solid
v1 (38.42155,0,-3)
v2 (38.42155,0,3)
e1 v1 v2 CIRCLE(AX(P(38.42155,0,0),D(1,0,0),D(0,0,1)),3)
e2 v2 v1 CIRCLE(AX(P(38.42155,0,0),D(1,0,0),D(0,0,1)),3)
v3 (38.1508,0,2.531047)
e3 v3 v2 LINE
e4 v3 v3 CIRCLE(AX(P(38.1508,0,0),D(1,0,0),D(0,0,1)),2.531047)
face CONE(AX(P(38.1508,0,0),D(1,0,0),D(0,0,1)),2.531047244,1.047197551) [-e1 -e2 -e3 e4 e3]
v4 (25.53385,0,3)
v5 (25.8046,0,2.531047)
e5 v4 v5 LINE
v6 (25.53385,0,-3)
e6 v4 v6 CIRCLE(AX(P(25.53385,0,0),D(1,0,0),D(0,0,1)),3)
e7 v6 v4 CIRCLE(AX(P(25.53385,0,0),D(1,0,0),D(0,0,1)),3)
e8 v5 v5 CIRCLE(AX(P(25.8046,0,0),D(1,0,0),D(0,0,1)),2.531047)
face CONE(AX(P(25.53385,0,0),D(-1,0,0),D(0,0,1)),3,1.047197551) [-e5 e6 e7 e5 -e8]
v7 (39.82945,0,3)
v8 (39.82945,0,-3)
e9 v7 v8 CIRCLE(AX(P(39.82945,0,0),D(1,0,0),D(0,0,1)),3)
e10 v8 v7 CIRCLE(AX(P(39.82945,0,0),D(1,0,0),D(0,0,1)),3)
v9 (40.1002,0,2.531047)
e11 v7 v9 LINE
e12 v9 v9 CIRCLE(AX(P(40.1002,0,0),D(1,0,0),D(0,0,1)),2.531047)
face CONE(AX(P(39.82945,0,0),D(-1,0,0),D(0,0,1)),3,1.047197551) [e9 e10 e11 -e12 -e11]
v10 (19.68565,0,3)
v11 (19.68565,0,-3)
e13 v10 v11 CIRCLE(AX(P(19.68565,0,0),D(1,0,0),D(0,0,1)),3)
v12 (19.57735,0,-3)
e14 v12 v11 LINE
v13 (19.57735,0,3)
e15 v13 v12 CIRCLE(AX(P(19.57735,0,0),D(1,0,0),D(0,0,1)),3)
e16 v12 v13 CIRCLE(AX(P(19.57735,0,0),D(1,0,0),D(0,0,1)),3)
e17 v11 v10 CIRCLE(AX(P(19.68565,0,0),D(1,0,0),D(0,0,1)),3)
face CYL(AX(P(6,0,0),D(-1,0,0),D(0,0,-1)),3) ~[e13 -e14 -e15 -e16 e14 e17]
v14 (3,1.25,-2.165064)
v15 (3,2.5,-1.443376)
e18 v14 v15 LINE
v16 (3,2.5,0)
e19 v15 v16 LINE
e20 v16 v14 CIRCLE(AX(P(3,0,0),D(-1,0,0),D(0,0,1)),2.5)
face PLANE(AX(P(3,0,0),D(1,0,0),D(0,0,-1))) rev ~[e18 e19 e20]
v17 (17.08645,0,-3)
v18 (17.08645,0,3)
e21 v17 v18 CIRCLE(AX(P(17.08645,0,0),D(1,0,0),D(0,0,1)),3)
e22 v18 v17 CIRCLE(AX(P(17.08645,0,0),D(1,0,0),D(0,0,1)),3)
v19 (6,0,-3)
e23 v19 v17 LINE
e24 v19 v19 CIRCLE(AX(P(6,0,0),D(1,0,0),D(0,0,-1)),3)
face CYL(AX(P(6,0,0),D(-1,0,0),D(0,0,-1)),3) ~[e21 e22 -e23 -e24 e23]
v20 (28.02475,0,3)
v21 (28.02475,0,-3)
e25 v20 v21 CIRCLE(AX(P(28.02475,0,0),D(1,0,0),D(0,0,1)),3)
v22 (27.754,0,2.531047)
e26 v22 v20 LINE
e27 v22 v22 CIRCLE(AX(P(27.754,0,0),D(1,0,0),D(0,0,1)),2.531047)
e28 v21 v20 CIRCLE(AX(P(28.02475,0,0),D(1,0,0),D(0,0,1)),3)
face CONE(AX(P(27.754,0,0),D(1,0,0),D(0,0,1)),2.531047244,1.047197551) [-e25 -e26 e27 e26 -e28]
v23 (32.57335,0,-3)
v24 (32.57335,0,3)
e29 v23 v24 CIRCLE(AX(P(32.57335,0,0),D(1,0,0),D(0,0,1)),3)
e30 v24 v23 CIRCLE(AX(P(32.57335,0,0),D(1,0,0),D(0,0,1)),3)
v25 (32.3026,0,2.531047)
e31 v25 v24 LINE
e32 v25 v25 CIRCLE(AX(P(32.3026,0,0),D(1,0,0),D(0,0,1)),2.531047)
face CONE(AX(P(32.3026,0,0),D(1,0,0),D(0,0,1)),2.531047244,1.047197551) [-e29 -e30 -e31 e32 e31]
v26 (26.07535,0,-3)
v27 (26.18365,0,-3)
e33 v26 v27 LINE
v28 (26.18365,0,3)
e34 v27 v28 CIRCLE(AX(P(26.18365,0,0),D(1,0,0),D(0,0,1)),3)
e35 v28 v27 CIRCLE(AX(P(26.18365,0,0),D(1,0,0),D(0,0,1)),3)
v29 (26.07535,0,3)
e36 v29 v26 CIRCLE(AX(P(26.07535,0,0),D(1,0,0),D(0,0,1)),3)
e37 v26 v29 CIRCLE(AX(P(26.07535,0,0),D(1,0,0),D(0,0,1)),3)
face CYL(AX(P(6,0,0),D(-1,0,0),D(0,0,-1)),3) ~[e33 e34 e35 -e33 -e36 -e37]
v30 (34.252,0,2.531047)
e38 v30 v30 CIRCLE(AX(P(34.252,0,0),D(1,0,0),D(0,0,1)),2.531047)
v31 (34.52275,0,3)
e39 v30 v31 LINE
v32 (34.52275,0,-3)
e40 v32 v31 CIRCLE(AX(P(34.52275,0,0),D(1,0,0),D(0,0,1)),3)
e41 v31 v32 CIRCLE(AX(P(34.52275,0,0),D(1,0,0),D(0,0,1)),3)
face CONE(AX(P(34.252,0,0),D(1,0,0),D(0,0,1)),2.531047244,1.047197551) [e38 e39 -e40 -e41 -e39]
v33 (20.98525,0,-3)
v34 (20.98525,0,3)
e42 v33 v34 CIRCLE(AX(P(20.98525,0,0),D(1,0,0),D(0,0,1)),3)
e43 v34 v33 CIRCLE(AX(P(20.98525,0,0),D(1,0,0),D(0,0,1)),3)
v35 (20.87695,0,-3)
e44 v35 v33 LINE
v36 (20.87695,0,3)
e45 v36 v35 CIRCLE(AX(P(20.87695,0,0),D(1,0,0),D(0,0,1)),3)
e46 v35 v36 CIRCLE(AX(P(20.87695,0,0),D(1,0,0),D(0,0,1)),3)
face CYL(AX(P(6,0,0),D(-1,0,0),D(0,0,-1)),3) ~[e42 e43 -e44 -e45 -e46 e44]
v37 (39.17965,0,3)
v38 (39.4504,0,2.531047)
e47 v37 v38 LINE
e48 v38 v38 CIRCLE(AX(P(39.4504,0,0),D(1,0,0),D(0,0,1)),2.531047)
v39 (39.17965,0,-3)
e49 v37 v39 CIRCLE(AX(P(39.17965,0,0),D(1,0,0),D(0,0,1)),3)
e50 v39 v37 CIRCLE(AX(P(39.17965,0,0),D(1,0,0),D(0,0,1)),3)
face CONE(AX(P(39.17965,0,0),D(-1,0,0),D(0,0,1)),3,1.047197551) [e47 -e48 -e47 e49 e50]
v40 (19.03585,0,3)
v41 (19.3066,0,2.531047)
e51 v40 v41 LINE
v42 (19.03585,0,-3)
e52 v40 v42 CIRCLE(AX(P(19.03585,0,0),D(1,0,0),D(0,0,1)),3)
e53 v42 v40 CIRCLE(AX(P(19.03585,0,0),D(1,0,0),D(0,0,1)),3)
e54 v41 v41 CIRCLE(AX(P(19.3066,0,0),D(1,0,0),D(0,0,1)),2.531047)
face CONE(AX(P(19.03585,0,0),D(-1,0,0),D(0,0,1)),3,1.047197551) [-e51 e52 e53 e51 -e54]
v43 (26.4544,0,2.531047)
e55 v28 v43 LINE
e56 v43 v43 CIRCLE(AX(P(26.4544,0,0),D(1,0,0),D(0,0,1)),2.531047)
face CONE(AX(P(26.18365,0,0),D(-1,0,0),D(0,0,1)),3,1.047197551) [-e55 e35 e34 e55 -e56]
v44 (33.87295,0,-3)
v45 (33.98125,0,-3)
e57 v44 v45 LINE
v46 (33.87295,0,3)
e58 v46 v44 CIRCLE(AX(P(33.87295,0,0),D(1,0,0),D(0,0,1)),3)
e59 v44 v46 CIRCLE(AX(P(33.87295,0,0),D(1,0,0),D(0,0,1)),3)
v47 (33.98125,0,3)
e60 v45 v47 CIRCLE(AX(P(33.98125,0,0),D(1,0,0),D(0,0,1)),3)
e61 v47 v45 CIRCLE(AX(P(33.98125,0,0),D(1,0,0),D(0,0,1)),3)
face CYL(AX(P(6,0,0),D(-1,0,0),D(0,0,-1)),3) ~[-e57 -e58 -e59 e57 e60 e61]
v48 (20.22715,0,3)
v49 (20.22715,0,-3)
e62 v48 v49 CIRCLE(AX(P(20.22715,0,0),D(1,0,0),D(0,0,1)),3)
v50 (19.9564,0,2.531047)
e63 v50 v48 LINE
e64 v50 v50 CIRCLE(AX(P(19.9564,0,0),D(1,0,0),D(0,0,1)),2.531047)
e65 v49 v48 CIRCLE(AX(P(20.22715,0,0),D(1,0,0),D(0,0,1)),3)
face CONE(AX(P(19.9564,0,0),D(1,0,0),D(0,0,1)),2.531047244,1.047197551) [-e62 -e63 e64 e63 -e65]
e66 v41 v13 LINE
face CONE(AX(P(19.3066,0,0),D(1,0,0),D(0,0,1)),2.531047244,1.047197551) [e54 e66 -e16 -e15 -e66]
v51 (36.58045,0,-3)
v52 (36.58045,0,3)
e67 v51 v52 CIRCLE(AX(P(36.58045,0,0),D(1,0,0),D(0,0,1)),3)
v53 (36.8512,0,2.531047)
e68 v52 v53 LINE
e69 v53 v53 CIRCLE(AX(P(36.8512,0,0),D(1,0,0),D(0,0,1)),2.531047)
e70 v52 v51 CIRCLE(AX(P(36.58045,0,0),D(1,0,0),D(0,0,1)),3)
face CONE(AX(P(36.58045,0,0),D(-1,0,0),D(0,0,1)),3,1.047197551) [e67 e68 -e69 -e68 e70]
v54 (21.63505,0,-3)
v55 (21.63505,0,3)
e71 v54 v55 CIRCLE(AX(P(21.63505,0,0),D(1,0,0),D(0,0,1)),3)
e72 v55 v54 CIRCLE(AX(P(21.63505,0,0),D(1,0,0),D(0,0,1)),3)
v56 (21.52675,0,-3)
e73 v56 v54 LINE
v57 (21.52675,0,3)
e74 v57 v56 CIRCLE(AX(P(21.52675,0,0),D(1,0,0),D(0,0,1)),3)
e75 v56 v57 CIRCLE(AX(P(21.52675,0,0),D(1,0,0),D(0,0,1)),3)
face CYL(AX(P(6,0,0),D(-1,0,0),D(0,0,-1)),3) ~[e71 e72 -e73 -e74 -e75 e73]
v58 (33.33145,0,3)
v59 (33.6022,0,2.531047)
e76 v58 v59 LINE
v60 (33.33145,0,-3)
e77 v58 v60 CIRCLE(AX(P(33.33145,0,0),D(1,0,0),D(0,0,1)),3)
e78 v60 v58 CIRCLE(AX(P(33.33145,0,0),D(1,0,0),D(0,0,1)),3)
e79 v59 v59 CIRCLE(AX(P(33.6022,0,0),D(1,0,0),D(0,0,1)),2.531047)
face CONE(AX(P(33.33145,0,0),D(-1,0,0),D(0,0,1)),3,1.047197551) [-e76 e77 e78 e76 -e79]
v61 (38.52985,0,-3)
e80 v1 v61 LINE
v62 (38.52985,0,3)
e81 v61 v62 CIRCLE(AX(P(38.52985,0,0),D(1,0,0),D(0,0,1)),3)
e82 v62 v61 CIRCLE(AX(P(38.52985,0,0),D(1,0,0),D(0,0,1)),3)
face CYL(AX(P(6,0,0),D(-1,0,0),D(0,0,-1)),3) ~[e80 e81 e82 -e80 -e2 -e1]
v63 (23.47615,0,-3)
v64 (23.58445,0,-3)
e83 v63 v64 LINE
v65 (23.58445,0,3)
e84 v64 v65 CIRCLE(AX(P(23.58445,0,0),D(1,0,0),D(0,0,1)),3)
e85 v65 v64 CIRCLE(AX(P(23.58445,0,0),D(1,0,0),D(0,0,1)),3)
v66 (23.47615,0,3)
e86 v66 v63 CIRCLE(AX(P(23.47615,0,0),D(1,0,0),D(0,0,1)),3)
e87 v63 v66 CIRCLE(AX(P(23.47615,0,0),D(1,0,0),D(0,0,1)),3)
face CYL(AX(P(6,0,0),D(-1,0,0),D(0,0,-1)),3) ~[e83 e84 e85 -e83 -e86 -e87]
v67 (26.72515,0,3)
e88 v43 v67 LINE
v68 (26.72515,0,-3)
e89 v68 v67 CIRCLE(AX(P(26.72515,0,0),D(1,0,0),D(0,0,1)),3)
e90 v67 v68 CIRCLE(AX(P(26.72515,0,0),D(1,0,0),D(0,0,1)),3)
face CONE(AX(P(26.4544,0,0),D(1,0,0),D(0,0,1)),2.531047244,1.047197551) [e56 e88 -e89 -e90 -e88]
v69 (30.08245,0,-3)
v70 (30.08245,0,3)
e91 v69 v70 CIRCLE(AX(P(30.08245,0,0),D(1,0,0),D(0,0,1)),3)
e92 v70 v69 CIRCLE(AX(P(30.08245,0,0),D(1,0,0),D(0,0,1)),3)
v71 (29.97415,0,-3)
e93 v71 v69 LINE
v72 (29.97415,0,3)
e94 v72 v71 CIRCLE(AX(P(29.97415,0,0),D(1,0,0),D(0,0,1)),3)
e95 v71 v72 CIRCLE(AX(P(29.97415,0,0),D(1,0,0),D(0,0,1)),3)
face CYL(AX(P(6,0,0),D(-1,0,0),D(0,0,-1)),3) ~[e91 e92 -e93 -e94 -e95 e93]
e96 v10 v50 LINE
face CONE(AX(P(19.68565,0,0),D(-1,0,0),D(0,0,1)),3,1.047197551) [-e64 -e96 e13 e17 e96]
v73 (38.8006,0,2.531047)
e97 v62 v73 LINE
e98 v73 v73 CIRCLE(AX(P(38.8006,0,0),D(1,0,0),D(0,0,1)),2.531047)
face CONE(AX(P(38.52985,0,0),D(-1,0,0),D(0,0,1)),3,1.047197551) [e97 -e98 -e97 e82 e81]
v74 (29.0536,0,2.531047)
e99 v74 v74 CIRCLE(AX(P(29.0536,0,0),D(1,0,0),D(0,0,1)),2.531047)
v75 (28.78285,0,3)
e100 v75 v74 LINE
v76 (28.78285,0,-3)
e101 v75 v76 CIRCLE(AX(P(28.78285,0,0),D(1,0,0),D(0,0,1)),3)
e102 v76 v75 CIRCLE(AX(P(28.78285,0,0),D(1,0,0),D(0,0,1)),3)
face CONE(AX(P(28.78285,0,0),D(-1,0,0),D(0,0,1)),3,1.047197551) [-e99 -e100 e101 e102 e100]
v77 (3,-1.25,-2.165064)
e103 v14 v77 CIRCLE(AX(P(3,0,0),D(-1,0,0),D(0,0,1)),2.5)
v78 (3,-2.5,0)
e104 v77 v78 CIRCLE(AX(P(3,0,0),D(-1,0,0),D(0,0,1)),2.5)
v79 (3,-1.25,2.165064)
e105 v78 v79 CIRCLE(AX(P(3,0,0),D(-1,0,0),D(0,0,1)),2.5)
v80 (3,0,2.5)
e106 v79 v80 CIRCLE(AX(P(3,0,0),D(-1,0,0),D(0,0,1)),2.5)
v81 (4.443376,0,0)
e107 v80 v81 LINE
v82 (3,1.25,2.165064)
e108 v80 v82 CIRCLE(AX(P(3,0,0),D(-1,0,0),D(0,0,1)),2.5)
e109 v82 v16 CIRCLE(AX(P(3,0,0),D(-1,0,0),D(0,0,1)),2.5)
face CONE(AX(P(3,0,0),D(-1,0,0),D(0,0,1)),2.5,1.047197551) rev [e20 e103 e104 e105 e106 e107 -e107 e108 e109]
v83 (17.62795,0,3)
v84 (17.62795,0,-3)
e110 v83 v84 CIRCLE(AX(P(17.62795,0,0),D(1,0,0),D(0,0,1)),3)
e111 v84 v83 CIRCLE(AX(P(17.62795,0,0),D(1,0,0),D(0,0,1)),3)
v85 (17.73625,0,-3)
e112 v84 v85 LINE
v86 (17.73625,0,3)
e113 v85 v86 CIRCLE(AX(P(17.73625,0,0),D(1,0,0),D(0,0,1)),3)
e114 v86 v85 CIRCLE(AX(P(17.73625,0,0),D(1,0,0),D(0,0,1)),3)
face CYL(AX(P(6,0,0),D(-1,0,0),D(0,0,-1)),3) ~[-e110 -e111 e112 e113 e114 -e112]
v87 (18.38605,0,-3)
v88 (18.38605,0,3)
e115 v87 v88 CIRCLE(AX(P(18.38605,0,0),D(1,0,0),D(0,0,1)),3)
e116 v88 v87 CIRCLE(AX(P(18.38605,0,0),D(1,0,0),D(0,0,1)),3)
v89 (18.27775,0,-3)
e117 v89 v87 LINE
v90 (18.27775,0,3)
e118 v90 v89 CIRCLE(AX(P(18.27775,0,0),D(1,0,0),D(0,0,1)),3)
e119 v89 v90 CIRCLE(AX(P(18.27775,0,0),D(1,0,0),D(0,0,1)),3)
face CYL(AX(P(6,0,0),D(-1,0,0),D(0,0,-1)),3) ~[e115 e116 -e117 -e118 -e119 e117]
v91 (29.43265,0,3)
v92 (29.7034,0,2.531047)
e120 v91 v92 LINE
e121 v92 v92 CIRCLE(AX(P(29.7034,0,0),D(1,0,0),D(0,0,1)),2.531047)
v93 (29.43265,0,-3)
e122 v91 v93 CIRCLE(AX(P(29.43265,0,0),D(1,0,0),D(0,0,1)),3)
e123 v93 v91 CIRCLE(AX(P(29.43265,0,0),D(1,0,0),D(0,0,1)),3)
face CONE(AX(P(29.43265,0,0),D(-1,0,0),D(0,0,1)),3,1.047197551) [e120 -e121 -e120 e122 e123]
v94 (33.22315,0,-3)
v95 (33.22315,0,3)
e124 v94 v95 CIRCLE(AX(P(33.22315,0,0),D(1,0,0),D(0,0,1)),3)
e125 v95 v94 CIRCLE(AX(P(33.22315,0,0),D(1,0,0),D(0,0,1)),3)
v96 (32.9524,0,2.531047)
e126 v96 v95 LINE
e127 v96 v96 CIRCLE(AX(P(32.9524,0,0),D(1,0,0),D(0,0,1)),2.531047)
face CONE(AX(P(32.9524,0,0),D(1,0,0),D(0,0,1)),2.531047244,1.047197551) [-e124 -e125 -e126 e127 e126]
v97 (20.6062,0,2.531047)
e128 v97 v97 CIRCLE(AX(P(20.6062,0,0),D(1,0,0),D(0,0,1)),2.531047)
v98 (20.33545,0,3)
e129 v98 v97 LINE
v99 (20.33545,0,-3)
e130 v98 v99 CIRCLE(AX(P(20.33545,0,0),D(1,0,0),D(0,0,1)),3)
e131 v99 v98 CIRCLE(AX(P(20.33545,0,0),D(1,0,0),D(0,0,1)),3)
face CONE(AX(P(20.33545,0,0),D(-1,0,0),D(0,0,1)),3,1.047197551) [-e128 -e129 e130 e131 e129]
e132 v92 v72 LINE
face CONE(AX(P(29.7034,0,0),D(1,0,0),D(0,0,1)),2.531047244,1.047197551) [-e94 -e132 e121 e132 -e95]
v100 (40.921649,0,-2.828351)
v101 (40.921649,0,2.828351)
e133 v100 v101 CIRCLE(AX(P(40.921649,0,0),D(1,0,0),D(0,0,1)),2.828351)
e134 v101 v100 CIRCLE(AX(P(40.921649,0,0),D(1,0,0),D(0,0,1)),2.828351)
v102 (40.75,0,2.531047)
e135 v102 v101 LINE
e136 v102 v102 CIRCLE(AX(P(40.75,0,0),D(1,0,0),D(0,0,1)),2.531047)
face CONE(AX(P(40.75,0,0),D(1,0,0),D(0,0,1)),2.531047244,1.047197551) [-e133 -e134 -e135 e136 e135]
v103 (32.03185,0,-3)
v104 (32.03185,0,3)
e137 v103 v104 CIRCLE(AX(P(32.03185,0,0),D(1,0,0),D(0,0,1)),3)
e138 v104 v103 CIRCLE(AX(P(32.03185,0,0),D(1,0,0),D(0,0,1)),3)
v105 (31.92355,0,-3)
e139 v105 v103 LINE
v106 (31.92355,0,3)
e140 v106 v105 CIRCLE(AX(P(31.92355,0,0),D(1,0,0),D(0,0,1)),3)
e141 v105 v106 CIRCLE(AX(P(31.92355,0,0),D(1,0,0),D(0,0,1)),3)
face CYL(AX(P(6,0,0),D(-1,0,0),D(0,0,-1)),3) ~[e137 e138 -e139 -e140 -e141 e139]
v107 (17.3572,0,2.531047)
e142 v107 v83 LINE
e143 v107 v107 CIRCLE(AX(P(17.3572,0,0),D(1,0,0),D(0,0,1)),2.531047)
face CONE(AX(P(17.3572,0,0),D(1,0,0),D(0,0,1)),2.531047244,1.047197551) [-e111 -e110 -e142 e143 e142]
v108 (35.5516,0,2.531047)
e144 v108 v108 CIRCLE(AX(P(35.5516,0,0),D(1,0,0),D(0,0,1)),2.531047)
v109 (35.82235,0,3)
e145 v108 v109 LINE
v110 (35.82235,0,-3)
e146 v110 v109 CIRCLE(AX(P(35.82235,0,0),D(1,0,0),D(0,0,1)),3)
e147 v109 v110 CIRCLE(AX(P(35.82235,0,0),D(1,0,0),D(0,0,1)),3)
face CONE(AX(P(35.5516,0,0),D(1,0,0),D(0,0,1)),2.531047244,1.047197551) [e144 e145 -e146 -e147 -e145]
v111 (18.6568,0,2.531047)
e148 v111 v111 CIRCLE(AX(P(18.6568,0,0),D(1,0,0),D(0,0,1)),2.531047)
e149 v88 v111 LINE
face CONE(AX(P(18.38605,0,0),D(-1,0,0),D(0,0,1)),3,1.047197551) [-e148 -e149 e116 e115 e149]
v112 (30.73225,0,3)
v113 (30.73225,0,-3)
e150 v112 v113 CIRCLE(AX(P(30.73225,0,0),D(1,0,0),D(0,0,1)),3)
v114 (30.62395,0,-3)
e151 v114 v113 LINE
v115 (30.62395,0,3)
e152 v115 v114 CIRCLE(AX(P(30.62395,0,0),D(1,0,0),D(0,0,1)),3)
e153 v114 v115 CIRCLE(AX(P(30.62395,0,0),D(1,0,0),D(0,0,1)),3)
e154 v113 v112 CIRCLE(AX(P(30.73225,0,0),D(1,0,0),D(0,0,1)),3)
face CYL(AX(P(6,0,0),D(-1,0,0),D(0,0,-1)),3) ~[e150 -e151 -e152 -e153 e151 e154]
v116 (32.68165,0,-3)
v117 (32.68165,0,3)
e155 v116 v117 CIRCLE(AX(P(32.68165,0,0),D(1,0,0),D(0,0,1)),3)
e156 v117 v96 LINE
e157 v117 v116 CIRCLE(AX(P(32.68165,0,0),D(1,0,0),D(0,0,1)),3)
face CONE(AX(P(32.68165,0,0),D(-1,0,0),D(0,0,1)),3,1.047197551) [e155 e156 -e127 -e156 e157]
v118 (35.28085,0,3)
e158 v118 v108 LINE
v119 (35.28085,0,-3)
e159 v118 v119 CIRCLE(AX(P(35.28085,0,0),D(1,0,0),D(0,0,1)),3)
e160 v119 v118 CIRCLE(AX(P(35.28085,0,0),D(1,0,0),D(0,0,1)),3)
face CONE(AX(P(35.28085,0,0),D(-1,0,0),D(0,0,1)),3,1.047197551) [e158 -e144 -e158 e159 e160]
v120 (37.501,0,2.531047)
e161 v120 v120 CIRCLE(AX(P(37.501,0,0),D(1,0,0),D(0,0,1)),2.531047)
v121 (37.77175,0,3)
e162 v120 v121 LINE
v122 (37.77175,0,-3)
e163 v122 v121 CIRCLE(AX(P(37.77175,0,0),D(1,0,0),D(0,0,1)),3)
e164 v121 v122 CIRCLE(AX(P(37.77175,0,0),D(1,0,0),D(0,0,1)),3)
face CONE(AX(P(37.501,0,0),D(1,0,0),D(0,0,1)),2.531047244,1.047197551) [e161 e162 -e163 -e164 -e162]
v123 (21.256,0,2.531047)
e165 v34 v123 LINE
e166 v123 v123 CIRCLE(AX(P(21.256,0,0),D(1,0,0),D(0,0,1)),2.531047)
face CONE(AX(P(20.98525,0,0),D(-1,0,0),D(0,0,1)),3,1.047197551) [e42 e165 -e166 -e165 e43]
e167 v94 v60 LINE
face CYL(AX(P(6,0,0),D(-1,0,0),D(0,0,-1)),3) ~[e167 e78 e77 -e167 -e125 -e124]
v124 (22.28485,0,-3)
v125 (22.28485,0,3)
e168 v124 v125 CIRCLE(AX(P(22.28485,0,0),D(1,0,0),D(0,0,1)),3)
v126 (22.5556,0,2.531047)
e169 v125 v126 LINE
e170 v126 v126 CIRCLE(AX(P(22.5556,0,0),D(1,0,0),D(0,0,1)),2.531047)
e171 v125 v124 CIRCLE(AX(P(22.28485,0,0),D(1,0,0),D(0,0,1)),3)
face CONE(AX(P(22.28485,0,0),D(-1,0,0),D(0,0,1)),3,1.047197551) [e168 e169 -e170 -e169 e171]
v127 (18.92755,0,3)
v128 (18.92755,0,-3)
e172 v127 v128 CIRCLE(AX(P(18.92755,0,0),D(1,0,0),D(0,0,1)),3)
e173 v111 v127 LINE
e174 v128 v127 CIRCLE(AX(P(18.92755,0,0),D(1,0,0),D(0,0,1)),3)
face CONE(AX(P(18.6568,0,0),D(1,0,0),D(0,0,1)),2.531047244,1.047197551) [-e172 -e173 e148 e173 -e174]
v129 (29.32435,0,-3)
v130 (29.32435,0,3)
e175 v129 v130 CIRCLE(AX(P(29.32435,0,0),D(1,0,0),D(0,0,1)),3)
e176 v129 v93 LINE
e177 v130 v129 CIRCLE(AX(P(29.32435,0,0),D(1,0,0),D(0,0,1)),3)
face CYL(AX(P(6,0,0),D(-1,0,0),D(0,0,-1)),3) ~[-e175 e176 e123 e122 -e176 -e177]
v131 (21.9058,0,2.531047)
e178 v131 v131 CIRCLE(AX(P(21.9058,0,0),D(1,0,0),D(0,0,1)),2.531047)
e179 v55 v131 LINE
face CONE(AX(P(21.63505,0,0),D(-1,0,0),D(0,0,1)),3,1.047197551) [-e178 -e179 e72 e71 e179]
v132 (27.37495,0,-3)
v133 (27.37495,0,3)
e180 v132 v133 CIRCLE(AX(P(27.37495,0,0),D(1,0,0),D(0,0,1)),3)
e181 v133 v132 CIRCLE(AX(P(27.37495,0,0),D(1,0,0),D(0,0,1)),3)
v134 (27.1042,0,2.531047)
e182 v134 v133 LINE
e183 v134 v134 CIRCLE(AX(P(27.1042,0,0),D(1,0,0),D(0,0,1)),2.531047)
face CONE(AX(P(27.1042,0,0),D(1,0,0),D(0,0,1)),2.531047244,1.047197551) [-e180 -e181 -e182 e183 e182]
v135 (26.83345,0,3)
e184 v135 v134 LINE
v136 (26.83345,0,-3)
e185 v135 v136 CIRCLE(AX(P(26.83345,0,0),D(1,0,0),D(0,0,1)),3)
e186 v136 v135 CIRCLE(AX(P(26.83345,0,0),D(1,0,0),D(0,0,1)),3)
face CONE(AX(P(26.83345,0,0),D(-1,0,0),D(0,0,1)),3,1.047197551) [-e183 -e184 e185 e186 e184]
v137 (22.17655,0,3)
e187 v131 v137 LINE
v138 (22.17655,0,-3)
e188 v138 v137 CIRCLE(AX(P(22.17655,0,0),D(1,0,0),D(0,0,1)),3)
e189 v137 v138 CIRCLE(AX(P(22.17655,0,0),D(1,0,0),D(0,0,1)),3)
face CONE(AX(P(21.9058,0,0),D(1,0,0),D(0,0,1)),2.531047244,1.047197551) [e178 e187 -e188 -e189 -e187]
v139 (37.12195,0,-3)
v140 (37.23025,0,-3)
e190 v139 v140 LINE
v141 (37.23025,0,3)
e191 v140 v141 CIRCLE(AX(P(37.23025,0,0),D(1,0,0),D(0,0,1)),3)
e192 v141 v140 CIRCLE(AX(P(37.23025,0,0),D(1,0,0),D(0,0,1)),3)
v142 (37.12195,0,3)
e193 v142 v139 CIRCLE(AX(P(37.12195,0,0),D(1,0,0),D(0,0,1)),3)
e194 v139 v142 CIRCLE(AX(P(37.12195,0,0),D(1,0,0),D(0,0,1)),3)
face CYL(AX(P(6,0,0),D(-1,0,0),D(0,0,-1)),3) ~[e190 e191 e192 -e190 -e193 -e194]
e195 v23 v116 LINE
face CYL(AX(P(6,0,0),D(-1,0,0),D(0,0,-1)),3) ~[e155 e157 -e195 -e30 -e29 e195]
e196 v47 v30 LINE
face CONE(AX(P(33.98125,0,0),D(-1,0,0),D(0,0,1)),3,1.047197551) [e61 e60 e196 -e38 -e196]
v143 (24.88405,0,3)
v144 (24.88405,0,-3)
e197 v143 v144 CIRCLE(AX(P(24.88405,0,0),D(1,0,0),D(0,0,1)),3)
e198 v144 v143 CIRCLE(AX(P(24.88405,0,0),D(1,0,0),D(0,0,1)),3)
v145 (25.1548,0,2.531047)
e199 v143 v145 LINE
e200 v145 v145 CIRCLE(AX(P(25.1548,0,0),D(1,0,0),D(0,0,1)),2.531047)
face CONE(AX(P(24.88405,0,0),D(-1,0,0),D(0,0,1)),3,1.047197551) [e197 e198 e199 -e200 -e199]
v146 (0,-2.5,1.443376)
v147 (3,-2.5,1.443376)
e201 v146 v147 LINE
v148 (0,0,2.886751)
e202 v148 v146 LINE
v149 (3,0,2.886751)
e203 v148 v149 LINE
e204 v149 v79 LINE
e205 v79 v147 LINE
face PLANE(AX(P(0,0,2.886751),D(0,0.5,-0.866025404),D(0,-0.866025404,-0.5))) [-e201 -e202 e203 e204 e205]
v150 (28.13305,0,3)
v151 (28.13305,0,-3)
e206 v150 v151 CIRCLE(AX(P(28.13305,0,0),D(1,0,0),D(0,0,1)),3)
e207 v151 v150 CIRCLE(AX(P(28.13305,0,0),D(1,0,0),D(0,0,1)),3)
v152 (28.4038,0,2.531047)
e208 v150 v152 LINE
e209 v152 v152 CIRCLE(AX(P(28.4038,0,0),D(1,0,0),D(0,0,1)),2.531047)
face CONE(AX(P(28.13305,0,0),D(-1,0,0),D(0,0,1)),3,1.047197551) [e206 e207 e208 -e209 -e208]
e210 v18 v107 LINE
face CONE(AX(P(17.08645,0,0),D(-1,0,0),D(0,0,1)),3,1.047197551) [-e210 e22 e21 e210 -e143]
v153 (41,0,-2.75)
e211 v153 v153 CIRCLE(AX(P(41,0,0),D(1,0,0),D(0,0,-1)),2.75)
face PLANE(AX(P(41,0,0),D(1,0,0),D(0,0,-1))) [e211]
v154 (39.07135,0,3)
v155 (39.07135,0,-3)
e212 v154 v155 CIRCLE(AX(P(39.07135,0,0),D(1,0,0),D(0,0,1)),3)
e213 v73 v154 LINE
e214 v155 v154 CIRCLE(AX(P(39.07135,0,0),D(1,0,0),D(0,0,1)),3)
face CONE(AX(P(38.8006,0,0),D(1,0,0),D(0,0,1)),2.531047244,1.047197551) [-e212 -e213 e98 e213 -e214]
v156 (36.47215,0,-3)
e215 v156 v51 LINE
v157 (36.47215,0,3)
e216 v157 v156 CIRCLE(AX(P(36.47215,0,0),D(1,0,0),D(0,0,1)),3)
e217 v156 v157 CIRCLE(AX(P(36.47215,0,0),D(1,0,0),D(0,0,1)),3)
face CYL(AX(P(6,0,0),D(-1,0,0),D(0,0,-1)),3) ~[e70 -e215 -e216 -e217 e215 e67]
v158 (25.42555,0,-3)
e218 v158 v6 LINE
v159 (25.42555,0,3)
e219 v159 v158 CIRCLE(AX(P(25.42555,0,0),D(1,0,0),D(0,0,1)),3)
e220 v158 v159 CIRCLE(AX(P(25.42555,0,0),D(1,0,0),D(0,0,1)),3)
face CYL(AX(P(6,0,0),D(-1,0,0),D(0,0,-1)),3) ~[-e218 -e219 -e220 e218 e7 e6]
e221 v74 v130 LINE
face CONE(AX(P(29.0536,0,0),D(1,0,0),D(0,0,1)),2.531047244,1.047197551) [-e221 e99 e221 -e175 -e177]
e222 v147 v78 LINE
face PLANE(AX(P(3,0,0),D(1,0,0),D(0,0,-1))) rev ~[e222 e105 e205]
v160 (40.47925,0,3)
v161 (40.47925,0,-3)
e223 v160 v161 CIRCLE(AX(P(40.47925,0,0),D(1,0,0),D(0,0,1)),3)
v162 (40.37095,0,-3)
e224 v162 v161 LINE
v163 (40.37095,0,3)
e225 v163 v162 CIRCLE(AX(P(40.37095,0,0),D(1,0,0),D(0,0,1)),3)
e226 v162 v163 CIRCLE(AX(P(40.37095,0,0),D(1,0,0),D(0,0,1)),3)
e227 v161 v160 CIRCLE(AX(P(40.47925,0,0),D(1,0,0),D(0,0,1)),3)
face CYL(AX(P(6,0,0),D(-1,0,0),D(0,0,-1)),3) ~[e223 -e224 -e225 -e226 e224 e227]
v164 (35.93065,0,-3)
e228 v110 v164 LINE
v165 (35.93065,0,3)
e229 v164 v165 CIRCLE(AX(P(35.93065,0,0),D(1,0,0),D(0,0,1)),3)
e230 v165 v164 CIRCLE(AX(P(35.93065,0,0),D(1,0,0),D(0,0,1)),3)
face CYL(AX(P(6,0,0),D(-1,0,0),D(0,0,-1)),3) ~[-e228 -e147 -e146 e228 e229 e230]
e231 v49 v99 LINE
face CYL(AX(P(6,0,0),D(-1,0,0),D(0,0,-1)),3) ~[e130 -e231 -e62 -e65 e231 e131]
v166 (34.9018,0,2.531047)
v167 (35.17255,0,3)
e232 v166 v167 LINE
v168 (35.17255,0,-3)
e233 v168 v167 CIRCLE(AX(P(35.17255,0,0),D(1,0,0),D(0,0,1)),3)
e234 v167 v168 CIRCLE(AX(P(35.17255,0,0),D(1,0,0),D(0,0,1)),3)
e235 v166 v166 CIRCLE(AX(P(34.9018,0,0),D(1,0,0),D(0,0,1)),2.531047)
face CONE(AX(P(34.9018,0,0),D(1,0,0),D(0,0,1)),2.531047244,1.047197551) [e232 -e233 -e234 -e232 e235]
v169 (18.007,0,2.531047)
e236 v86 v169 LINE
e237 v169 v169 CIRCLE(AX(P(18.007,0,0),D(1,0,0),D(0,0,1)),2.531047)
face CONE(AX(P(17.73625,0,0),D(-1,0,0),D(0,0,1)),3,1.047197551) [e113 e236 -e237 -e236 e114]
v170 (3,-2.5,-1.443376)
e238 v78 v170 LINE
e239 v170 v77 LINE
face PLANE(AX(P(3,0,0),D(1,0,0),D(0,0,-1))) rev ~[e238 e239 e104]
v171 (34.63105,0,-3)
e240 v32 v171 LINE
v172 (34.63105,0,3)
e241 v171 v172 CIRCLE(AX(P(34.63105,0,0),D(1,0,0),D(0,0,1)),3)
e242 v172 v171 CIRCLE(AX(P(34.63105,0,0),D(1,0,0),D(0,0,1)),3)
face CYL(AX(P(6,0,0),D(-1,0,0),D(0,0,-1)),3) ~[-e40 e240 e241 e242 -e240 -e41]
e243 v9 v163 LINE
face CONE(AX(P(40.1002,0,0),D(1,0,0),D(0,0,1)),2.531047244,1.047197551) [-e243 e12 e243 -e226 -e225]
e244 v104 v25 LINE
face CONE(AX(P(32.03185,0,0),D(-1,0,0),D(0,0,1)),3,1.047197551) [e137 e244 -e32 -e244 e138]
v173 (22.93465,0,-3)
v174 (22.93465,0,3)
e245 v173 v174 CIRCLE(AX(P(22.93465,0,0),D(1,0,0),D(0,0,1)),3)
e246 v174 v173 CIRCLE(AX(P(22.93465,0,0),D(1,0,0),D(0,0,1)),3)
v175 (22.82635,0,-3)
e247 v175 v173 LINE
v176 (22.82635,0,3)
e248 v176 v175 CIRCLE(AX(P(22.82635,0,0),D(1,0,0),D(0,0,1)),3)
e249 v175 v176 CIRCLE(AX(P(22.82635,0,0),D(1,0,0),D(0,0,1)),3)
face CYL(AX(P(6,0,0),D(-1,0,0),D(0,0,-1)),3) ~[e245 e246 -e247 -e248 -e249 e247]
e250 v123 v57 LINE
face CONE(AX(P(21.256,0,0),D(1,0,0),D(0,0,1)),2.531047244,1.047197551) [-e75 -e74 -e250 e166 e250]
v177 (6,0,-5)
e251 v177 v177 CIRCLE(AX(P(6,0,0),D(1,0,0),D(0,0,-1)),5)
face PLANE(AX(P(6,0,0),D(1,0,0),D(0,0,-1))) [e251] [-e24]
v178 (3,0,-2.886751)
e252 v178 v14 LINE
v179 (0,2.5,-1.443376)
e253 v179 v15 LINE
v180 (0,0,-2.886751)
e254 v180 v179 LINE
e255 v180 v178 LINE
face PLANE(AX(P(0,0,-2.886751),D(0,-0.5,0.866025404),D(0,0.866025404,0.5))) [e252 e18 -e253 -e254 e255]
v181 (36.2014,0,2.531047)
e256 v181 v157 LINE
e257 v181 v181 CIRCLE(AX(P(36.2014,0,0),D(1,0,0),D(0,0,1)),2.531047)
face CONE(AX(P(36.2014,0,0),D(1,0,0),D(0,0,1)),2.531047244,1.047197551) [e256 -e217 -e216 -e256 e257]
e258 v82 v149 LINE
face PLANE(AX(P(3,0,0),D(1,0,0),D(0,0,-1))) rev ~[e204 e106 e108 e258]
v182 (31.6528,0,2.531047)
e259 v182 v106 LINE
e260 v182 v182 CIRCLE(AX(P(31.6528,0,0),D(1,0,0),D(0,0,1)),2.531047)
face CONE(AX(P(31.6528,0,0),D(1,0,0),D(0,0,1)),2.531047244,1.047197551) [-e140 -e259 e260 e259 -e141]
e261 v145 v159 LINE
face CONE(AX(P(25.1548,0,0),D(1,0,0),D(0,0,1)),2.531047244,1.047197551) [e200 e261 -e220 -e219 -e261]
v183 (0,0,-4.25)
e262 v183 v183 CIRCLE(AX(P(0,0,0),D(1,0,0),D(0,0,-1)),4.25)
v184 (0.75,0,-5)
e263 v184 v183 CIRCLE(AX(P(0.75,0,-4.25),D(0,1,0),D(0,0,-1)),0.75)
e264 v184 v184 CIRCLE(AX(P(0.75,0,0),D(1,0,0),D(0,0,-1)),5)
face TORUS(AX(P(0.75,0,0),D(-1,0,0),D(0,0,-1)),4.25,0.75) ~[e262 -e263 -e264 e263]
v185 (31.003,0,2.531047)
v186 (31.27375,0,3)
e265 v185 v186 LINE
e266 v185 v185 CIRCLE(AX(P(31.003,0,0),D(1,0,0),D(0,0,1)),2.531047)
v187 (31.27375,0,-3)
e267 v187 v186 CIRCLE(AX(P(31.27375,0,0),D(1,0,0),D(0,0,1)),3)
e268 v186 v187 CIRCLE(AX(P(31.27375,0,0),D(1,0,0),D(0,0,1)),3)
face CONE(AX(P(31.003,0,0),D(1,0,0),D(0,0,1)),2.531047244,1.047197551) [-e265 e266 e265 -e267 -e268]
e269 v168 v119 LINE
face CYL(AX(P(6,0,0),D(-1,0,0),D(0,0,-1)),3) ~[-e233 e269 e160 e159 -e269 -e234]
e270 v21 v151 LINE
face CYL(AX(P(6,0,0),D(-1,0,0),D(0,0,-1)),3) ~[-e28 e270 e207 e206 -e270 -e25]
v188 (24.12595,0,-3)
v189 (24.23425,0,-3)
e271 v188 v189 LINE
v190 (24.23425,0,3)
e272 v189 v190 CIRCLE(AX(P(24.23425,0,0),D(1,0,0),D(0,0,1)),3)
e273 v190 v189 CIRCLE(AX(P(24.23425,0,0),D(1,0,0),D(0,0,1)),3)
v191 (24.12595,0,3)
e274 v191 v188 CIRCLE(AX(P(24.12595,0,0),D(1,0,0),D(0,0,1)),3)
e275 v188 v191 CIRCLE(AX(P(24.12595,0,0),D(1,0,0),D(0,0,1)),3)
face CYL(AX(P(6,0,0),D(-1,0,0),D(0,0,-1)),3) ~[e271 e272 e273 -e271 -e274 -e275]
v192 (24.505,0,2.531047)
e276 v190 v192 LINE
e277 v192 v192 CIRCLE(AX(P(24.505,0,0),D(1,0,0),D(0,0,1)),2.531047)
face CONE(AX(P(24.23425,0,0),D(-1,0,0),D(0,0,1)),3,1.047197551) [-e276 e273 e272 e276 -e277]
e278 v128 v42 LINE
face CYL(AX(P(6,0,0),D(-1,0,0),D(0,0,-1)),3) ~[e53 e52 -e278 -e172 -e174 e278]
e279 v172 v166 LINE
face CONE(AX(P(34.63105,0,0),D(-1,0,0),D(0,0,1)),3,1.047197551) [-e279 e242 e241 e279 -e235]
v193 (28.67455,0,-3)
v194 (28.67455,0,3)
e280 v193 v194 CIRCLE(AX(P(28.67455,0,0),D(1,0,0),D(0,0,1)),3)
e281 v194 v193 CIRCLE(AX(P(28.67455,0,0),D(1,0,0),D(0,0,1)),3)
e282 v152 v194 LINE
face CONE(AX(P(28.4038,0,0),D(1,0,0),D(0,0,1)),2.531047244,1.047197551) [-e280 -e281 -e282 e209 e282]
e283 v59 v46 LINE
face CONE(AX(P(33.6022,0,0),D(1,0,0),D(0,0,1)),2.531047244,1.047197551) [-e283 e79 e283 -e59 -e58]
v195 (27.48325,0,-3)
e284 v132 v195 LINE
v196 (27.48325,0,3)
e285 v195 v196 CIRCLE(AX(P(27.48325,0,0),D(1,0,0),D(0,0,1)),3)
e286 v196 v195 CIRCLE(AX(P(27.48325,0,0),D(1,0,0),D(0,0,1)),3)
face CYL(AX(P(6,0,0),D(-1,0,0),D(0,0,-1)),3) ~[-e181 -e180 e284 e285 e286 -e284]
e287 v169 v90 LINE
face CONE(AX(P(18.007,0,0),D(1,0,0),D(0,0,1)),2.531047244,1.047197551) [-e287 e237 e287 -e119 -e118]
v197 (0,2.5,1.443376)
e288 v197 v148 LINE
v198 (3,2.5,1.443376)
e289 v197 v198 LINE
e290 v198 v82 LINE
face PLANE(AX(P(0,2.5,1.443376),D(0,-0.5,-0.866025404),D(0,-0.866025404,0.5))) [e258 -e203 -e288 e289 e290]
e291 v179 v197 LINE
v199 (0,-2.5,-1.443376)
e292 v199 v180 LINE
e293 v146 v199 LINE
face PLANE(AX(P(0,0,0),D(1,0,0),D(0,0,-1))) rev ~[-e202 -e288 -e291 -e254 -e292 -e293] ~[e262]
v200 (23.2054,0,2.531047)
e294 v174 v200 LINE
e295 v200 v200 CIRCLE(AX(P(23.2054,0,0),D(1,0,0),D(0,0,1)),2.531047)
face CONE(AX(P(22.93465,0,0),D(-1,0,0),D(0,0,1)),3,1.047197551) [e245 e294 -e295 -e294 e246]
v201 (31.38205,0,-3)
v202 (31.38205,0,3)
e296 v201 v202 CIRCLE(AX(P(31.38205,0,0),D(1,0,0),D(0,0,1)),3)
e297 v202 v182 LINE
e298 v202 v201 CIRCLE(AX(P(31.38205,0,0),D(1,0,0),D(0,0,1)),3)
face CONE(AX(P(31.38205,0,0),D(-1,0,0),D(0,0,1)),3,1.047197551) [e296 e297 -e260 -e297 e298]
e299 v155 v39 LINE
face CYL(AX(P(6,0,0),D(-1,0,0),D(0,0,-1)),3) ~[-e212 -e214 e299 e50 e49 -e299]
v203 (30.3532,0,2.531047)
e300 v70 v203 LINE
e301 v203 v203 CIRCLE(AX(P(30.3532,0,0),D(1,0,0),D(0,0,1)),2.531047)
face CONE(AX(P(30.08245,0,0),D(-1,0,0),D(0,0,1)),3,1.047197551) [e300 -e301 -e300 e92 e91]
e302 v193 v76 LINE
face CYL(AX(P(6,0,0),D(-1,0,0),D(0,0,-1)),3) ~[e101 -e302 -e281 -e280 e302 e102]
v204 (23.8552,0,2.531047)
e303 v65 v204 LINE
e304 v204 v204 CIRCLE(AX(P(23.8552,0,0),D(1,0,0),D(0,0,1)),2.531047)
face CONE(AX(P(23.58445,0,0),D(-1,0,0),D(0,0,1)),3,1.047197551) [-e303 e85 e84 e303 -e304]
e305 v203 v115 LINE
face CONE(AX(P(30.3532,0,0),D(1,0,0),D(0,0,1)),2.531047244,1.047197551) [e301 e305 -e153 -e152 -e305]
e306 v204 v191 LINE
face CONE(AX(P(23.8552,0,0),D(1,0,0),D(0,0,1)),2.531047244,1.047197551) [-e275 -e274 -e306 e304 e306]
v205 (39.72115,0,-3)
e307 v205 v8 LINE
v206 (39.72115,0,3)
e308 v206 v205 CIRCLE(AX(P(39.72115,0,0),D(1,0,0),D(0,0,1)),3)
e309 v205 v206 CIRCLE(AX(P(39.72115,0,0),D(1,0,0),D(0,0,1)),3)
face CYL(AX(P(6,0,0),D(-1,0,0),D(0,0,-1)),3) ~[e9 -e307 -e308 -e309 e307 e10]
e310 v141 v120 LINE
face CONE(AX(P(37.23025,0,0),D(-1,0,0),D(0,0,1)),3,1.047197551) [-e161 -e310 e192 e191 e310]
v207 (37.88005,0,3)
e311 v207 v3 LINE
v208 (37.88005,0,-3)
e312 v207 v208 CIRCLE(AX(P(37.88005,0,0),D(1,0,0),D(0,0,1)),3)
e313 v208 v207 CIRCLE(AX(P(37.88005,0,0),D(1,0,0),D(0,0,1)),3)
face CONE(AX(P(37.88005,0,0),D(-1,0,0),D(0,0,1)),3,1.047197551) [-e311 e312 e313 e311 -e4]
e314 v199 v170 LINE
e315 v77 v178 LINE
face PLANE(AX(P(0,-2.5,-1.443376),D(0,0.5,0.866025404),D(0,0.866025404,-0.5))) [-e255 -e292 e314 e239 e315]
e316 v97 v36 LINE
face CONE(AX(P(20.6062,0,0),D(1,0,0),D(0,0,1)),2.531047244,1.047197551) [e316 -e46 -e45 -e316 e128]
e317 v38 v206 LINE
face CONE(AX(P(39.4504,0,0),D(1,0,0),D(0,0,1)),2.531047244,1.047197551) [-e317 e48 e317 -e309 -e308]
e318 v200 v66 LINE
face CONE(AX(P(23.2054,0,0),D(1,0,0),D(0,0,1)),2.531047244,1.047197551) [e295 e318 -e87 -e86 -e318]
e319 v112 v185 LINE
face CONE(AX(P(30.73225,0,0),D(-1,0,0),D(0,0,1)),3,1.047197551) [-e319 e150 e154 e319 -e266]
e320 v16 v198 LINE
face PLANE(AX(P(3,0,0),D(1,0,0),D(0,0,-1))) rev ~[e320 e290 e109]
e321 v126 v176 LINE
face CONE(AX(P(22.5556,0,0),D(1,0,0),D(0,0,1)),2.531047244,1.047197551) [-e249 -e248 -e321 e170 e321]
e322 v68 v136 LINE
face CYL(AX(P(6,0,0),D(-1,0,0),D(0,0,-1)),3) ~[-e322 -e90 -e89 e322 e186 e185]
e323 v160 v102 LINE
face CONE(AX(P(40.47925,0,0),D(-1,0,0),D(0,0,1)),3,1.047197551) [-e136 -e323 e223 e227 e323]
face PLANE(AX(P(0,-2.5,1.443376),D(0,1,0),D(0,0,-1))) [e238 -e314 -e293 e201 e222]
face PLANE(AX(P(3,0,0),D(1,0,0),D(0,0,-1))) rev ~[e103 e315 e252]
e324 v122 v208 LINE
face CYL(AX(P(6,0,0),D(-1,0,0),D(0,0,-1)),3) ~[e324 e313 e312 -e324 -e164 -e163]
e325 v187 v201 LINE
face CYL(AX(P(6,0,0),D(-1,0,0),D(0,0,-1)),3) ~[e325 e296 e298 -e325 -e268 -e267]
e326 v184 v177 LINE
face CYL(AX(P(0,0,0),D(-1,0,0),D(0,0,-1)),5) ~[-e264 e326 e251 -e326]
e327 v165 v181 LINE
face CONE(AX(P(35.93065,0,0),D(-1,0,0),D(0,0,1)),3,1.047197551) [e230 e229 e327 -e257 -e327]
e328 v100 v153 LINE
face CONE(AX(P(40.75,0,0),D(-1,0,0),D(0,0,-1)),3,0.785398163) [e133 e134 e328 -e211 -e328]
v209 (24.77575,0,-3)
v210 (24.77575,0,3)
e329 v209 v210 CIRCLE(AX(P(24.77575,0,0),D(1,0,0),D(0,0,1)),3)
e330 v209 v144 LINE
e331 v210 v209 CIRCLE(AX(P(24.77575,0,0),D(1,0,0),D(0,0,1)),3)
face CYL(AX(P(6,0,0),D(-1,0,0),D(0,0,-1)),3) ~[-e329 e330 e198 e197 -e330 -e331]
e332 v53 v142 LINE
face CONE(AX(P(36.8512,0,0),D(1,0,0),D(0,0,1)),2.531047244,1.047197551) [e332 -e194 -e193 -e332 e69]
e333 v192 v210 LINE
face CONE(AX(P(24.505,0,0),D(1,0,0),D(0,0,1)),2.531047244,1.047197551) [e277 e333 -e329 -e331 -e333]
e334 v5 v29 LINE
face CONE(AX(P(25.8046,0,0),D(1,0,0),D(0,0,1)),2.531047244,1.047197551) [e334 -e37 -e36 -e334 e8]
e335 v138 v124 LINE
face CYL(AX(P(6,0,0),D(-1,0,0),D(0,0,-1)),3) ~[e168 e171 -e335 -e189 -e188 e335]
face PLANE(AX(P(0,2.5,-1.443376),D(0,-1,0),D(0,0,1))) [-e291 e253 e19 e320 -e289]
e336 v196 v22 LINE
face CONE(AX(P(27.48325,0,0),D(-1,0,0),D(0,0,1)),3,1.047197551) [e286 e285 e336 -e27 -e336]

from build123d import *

# Parameters (mm, degrees)
SKETCH1_R           = 5
BASEHEAD_DEPTH      = 6
SKETCH2_R           = 3
BASEBODY_DEPTH      = 35
HEXAGONSOCKET_DEPTH = 3
TOPFILLET_R         = 0.75
CHAMFER1_SIZE       = 0.25
LPATTERN10_COUNT    = 37
LPATTERN10_PITCH    = 0.6498


with BuildPart() as part:
    # Sketch1 → BaseHead (new body)
    with BuildSketch(Plane(origin=(0, 0, 0), x_dir=(0, 0, -1), z_dir=(1, 0, 0))):
        Circle(SKETCH1_R)
    extrude(amount=BASEHEAD_DEPTH)

    # Sketch2 → BaseBody (add)
    with BuildSketch(Plane(origin=(6, 0, 0), x_dir=(0, 0, -1), z_dir=(1, 0, 0))):
        Circle(SKETCH2_R)
    extrude(amount=BASEBODY_DEPTH)

    # Sketch3 → HexagonSocket (cut)
    with BuildSketch(Plane(origin=(0, 0, 0), x_dir=(0, 0, -1), z_dir=(1, 0, 0))):
        Polygon((2.886751346, 0), (1.443375673, 2.5), (-1.443375673, 2.5), (-2.886751346, 0), (-1.443375673, -2.5), (1.443375673, -2.5), align=None)
    extrude(amount=HEXAGONSOCKET_DEPTH, mode=Mode.SUBTRACT)

    # Sketch4 → Cut-Revolve1 (revolve, cut)
    with BuildSketch(Plane(origin=(-4.19613823, 0.75, 0), x_dir=(-1, 0, 0), z_dir=(0, 0, 1)), mode=Mode.PRIVATE) as cut_revolve1_sk:
        Polygon((-7.19613823, 3.25), (-8.639513903, 0.75), (-7.19613823, 0.75), align=None)
    revolve(cut_revolve1_sk.sketch.rotate(Axis((0.838992387, 0, 0), (-1, 0, 0)), 90), axis=Axis((0.838992387, 0, 0), (-1, 0, 0)), mode=Mode.SUBTRACT)

    # TopFillet
    topfillet_edges = [part.edges().sort_by_distance(p)[0] for p in [
        (0, 0, 5),
    ]]
    fillet(topfillet_edges, radius=TOPFILLET_R)

    # Chamfer1
    chamfer1_edges = [part.edges().sort_by_distance(p)[0] for p in [
        (41, 0, 3),
    ]]
    chamfer(chamfer1_edges, length=CHAMFER1_SIZE)

    # Sketch5 → Cut-Revolve10 (revolve, cut)
    with BuildSketch(Plane.XY, mode=Mode.PRIVATE) as cut_revolve10_sk:
        Polygon((40.75, 2.531047244), (41.02075, 3), (41.02075, 3.5415), (40.47925, 3.5415), (40.47925, 3), align=None)
    cut_revolve10 = revolve(cut_revolve10_sk.sketch.rotate(Axis((0, 0, 0), (1, 0, 0)), 90), axis=Axis((0, 0, 0), (1, 0, 0)), mode=Mode.SUBTRACT)

    # LPattern10: Cut-Revolve10 ×37
    with Locations(*[(-i * LPATTERN10_PITCH, 0, 0) for i in range(1, LPATTERN10_COUNT)]):
        add(cut_revolve10, mode=Mode.SUBTRACT)


solid = part.part
